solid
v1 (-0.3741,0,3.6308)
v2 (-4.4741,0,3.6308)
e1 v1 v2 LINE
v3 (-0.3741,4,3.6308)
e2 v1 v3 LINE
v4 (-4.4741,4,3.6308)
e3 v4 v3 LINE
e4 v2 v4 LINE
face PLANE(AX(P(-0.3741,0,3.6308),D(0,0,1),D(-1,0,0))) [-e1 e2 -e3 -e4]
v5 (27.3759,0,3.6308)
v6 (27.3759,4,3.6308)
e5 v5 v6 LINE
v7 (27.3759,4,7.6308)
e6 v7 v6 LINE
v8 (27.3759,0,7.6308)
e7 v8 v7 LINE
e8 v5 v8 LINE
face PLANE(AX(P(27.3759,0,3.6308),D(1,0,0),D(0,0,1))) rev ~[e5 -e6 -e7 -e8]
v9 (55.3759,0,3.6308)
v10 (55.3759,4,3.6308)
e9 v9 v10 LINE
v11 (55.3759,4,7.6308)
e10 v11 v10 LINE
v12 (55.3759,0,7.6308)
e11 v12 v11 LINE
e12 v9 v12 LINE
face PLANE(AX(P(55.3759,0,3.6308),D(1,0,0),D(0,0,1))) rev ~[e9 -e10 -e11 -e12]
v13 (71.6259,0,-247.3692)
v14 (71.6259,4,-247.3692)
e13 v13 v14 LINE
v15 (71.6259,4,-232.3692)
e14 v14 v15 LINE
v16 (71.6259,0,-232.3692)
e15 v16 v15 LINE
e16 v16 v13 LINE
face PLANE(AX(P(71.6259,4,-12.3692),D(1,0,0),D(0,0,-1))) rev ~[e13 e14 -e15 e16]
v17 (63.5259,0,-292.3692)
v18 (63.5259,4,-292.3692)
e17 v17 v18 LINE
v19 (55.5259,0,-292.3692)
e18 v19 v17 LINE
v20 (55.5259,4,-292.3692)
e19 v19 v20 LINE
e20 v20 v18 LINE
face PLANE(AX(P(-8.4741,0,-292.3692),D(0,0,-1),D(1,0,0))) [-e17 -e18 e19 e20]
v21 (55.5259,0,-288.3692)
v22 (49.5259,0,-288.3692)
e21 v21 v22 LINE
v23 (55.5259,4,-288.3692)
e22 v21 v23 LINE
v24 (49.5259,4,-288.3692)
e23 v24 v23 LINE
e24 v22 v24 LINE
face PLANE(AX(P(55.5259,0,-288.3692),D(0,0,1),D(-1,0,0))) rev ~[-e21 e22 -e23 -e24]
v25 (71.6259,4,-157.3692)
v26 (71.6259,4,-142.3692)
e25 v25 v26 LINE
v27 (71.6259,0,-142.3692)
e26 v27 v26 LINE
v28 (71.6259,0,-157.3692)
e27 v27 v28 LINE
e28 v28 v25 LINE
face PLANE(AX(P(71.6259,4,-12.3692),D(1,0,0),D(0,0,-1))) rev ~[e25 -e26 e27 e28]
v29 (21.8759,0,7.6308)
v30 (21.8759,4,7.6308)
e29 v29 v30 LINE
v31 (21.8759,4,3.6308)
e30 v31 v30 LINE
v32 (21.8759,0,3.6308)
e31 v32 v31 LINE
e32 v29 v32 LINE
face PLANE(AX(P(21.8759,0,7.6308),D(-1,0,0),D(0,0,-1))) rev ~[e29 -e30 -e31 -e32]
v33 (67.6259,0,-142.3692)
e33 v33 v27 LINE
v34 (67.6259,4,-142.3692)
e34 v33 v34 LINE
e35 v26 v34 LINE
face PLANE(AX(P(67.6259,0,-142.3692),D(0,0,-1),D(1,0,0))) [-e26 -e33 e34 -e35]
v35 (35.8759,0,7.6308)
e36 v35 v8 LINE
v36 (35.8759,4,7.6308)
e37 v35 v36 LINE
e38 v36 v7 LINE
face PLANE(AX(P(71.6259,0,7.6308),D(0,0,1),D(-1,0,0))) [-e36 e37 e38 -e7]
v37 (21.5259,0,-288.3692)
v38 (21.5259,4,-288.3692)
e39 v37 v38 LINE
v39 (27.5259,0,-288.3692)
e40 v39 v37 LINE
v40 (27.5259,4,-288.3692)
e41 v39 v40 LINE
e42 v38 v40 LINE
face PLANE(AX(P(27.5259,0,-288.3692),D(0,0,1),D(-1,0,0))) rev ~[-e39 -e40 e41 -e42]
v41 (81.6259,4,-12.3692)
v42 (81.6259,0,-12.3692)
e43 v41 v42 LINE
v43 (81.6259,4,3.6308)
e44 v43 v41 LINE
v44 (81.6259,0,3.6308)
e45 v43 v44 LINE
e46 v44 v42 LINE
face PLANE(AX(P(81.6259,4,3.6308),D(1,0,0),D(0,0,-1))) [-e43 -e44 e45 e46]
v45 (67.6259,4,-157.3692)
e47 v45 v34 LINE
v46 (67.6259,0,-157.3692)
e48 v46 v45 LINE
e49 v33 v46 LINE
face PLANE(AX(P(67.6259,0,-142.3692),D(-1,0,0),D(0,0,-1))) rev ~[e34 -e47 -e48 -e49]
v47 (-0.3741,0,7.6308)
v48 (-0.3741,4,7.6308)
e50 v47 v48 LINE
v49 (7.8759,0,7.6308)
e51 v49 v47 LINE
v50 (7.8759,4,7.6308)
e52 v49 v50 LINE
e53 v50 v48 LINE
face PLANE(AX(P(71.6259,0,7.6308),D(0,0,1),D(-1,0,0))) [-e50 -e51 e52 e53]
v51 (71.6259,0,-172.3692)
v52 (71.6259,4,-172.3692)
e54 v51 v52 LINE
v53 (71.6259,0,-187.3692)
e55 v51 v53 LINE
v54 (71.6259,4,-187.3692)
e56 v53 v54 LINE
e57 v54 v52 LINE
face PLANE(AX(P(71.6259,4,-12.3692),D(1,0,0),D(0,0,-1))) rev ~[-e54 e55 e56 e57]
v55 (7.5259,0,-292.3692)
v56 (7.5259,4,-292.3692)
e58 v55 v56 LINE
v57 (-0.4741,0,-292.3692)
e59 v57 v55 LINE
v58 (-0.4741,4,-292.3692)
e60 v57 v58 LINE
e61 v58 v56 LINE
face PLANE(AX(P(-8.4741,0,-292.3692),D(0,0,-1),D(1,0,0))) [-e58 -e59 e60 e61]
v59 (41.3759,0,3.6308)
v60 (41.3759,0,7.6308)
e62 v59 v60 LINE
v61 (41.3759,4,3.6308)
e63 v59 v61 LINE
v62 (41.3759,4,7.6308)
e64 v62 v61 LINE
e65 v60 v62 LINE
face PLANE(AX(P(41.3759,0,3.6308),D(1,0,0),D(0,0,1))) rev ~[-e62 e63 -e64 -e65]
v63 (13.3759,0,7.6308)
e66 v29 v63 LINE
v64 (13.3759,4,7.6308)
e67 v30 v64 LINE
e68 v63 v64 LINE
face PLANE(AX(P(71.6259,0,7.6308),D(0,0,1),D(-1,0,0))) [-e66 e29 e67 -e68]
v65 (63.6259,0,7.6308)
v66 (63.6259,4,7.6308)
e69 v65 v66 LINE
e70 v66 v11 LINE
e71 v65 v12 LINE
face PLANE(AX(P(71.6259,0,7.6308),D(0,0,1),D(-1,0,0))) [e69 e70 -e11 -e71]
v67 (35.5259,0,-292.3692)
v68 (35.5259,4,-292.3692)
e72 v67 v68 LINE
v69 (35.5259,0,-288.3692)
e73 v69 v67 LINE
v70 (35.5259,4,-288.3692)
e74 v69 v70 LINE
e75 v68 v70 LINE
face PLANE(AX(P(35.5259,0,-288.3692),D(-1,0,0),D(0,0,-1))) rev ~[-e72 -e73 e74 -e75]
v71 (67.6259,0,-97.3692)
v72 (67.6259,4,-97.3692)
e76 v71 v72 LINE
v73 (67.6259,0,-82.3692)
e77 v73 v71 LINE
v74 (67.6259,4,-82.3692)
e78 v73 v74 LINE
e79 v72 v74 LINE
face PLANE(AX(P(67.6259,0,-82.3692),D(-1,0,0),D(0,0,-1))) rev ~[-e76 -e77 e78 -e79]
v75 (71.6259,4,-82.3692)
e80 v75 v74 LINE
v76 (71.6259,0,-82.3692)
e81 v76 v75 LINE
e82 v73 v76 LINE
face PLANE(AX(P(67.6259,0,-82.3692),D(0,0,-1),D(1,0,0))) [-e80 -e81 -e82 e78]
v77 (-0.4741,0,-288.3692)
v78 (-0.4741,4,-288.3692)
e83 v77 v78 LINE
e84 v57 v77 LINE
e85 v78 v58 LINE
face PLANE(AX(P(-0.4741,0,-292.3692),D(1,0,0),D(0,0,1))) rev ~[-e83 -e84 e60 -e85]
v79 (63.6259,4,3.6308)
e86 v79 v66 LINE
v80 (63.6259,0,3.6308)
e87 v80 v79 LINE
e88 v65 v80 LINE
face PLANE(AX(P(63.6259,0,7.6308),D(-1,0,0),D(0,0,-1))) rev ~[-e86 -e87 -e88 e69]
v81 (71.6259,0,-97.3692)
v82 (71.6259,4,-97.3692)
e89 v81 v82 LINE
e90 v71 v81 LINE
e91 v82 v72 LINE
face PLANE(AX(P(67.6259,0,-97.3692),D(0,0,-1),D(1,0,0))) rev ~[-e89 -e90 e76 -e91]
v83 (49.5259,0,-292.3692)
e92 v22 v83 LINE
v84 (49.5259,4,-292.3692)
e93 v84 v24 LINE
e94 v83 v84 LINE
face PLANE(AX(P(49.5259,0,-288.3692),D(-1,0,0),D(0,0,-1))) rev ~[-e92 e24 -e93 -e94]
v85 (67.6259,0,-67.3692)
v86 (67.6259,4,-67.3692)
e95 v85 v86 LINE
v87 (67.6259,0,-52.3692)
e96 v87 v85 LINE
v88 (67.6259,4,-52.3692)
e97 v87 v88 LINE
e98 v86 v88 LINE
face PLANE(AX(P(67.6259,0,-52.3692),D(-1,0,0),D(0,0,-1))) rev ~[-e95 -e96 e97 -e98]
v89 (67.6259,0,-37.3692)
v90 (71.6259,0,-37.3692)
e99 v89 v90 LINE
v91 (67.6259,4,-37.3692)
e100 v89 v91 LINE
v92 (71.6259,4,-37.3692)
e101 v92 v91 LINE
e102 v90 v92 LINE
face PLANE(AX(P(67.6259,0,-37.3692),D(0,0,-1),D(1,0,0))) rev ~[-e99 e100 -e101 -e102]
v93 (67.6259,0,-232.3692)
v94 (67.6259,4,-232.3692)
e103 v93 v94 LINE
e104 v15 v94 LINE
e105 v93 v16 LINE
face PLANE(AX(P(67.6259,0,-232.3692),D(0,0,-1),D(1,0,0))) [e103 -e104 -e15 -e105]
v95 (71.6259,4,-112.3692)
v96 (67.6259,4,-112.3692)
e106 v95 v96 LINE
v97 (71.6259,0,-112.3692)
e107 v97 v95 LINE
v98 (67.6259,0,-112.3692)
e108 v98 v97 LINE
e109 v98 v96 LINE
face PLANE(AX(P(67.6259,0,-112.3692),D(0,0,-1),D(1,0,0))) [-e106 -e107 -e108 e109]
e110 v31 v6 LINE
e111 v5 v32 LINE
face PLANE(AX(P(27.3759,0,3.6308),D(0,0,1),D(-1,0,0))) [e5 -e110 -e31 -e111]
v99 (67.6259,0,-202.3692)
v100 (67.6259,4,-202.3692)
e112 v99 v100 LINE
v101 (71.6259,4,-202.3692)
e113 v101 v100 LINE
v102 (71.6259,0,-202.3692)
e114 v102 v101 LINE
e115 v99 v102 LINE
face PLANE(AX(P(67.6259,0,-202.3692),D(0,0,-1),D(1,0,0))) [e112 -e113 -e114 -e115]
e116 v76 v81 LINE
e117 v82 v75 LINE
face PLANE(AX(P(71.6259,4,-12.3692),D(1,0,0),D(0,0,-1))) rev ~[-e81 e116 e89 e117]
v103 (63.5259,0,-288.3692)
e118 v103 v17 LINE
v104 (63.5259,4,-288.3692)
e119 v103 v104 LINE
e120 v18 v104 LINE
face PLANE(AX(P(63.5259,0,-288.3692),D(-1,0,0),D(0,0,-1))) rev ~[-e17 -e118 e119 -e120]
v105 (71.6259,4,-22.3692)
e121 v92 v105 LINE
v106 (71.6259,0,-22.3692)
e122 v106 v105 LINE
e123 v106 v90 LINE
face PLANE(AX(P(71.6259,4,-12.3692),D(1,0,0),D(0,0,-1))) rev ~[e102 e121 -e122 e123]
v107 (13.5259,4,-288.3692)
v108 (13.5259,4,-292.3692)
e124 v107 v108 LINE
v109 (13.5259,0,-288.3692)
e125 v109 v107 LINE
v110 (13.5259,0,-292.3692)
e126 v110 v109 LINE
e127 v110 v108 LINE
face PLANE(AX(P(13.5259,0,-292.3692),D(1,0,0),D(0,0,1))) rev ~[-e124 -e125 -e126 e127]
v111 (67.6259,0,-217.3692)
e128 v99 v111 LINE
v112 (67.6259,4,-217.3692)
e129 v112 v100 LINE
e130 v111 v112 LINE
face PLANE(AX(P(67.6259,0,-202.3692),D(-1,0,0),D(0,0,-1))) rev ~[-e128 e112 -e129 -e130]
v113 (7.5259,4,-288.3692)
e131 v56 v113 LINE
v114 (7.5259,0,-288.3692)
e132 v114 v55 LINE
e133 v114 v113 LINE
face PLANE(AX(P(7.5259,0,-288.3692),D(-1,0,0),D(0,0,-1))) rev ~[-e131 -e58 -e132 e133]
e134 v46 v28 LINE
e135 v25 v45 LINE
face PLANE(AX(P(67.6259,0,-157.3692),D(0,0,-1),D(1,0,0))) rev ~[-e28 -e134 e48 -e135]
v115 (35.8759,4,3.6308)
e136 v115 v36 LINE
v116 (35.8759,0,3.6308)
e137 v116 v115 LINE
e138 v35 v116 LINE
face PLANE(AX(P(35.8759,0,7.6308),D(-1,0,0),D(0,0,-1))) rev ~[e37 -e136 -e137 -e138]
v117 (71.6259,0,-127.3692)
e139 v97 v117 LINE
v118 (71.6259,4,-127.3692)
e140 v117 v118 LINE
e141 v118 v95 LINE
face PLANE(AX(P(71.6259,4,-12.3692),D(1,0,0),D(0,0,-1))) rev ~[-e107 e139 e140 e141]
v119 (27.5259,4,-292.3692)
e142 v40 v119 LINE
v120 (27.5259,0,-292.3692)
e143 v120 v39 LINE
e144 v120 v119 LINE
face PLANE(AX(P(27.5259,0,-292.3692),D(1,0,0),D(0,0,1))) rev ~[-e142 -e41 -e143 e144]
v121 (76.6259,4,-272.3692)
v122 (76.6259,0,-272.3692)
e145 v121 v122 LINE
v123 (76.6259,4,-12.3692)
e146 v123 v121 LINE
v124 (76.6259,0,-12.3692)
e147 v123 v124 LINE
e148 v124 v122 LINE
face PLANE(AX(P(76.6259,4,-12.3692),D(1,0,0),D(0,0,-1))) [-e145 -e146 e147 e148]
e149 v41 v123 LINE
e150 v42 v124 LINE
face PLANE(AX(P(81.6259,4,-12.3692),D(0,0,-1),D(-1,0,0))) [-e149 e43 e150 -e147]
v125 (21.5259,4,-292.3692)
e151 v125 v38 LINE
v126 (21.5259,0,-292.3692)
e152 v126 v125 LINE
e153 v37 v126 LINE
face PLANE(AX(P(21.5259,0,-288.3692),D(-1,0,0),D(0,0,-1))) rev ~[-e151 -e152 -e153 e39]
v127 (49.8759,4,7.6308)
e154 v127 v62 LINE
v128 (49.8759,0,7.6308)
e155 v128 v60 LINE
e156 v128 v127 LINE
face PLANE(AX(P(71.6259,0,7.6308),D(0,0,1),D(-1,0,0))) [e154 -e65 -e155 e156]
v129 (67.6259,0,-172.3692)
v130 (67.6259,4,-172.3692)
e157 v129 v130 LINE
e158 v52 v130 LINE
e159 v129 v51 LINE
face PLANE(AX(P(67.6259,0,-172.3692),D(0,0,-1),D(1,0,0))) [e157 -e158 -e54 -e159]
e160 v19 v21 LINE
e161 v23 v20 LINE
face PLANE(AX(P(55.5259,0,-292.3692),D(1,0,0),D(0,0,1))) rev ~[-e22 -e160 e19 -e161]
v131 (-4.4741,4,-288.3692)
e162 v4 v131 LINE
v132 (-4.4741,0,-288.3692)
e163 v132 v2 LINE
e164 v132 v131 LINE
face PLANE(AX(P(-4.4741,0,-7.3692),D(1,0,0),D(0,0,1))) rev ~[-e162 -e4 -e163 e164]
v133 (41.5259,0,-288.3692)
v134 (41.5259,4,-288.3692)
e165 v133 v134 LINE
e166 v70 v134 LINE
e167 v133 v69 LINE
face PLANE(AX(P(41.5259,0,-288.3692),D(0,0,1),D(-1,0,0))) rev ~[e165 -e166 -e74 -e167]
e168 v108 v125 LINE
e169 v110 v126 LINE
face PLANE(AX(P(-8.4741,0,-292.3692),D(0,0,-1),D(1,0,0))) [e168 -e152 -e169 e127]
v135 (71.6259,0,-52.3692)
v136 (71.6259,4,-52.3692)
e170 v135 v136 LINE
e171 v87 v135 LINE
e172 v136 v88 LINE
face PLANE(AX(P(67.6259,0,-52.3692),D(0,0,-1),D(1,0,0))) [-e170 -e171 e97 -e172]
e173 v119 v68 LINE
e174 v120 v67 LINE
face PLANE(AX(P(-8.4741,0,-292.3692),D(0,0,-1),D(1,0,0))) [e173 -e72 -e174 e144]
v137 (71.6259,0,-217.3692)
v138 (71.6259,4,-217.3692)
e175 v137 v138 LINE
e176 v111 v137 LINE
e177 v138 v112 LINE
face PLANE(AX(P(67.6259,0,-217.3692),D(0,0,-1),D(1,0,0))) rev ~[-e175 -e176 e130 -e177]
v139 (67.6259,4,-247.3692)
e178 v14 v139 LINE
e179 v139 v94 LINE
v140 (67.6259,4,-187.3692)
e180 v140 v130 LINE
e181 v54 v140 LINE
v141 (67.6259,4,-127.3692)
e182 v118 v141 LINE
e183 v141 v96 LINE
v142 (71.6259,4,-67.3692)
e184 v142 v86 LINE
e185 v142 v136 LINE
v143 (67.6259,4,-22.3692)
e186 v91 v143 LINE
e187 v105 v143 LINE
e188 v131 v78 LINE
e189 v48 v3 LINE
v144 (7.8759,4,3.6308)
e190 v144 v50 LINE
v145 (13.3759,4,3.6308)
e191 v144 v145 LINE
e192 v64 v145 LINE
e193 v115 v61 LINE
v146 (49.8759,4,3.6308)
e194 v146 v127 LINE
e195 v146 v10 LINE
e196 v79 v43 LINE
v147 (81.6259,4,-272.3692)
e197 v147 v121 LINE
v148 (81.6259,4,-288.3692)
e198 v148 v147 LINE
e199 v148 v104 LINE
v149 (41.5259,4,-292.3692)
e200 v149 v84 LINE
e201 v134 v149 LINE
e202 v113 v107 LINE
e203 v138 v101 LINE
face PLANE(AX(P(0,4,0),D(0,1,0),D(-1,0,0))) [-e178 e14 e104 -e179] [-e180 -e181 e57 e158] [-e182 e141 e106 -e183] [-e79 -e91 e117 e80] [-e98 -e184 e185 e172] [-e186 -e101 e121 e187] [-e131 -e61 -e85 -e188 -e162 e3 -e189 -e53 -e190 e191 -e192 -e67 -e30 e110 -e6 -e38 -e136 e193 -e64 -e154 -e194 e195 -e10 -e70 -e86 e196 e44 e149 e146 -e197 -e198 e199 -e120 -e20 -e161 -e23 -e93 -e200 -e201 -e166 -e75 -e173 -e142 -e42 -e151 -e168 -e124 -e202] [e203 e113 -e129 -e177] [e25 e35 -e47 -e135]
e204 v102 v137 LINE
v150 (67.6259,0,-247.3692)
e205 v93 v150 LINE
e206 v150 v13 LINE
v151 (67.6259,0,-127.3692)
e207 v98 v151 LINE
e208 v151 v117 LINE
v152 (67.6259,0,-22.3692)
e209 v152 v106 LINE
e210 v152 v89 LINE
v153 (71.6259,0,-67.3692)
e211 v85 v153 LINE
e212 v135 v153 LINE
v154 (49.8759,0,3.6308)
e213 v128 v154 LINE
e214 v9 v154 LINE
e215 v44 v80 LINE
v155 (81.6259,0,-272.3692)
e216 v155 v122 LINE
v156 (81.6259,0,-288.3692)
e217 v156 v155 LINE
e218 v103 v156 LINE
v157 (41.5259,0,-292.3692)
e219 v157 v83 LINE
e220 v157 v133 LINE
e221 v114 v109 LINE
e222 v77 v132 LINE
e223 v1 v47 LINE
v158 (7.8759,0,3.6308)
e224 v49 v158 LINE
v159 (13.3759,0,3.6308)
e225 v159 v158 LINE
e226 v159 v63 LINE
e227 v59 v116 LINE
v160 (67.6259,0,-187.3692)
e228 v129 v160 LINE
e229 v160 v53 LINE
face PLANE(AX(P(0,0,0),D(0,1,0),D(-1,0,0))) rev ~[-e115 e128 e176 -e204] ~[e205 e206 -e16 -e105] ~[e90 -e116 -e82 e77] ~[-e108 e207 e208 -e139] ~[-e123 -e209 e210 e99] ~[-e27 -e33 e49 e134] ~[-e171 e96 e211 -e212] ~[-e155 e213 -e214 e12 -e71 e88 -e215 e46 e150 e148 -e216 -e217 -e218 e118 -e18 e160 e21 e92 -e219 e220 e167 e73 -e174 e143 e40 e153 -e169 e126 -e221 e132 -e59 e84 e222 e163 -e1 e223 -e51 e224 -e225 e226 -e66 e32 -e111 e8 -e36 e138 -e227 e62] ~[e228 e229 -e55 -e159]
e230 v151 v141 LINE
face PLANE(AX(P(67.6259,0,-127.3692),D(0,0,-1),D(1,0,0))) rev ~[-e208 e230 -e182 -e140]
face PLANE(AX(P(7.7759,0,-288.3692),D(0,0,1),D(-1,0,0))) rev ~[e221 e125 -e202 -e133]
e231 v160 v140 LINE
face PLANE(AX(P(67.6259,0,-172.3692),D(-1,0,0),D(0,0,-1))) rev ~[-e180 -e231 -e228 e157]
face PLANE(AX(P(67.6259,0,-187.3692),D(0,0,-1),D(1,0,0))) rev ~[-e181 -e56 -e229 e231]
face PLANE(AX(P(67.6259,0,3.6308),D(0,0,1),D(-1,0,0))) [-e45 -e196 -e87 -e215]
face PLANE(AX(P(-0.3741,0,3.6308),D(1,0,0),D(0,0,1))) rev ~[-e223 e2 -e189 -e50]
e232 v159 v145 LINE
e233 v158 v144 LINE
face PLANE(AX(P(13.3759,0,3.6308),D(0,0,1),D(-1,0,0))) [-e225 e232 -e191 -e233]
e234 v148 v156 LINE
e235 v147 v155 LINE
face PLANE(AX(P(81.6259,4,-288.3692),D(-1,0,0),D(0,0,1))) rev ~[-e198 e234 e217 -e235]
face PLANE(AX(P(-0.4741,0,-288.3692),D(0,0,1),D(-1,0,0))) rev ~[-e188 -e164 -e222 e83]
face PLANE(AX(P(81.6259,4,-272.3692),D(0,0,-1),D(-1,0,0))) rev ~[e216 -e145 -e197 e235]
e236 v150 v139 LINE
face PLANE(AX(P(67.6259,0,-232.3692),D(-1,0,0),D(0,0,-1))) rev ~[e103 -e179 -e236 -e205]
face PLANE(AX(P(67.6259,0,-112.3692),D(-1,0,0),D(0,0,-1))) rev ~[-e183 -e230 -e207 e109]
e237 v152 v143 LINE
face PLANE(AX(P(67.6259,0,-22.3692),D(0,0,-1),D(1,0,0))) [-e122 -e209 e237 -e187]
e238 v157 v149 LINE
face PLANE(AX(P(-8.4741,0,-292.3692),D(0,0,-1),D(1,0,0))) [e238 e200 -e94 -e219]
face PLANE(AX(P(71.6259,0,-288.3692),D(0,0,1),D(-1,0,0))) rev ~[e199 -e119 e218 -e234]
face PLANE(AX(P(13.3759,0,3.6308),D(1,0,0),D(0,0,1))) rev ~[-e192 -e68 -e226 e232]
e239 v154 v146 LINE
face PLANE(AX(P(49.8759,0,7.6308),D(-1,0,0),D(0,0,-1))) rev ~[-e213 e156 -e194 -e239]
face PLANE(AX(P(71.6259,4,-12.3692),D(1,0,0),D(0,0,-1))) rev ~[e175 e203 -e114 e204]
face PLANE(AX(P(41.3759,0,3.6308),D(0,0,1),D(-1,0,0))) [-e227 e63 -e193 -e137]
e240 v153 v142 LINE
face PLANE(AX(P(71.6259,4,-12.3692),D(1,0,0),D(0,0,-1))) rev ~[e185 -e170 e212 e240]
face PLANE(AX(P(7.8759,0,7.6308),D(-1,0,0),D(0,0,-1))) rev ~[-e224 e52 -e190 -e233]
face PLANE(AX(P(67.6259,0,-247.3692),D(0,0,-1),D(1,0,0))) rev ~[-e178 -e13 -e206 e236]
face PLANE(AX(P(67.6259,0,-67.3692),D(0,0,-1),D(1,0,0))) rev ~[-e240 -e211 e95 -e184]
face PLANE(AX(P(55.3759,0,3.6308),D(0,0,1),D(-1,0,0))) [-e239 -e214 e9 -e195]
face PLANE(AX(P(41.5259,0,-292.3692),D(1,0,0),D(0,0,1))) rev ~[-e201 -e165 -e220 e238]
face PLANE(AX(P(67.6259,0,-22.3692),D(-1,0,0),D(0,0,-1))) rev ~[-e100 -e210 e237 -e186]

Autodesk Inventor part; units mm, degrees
ref_plane "YZ Plane" through (0, 0, 0) normal (1, 0, 0) x (0, 1, 0)
ref_plane "XZ Plane" through (0, 0, 0) normal (0, 1, 0) x (-1, 0, 0)
ref_plane "XY Plane" through (0, 0, 0) normal (0, 0, 1) x (1, 0, 0)
sketch "Sketch1" plane through (0, 0, 0) normal (0, 1, 0) x (-1, 0, 0)
  line L0 (-71.6259, 7.6308) -> (8.4741, 7.6308)
  line L1 (8.4741, 7.6308) -> (8.4741, -292.3692)
  line L2 (8.4741, -292.3692) -> (-71.6259, -292.3692)
  line L3 (-71.6259, -292.3692) -> (-71.6259, 7.6308)
  point P0 (0, 0)
extrude "Extrusion1" add sketch "Sketch1" along normal blind 4
sketch "Sketch2" plane through (0, 0, 0) normal (0, -1, 0) x (1, 0, 0)
  line L0 (-0.3741, 7.6308) -> (-18.4741, 7.6308) construction
  line L1 (-0.3741, 3.6308) -> (-0.3741, 7.6308) construction
  line L2 (7.6259, 7.6308) -> (7.6259, 3.6308) construction
  line L3 (13.6259, 3.6308) -> (7.6259, 3.6308) construction
  line L4 (13.6259, 3.6308) -> (13.6259, 7.6308) construction
  line L5 (21.6259, 7.6308) -> (21.6259, 3.6308) construction
  line L6 (27.6259, 3.6308) -> (21.6259, 3.6308) construction
  line L7 (27.6259, 3.6308) -> (27.6259, 7.6308) construction
  line L8 (35.6259, 7.6308) -> (35.6259, 3.6308) construction
  line L9 (41.6259, 3.6308) -> (35.6259, 3.6308) construction
  line L10 (41.6259, 3.6308) -> (41.6259, 7.6308) construction
  line L11 (49.6259, 7.6308) -> (49.6259, 3.6308) construction
  line L12 (55.6259, 3.6308) -> (49.6259, 3.6308) construction
  line L13 (55.6259, 3.6308) -> (55.6259, 7.6308) construction
  line L14 (63.6259, 7.6308) -> (63.6259, 3.6308) construction
  line L15 (71.6259, 3.6308) -> (63.6259, 3.6308) construction
  line L16 (67.6259, 3.6308) -> (67.6259, -7.3692) projected
  line L17 (67.6259, -7.3692) -> (71.6259, -7.3692) projected
  line L18 (71.6259, 3.6308) -> (71.6259, -7.3692) projected
  line L19 (67.6259, 3.6308) -> (71.6259, 3.6308) projected
  line L20 (67.6259, -22.3692) -> (67.6259, -37.3692) projected
  line L21 (67.6259, -37.3692) -> (71.6259, -37.3692) projected
  line L22 (71.6259, -22.3692) -> (71.6259, -37.3692) projected
  line L23 (67.6259, -22.3692) -> (71.6259, -22.3692) projected
  line L24 (67.6259, -52.3692) -> (67.6259, -67.3692) projected
  line L25 (67.6259, -67.3692) -> (71.6259, -67.3692) projected
  line L26 (71.6259, -52.3692) -> (71.6259, -67.3692) projected
  line L27 (67.6259, -52.3692) -> (71.6259, -52.3692) projected
  line L28 (67.6259, -82.3692) -> (67.6259, -97.3692) projected
  line L29 (67.6259, -97.3692) -> (71.6259, -97.3692) projected
  line L30 (71.6259, -82.3692) -> (71.6259, -97.3692) projected
  line L31 (67.6259, -82.3692) -> (71.6259, -82.3692) projected
  line L32 (67.6259, -112.3692) -> (67.6259, -127.3692) projected
  line L33 (67.6259, -127.3692) -> (71.6259, -127.3692) projected
  line L34 (71.6259, -112.3692) -> (71.6259, -127.3692) projected
  line L35 (67.6259, -112.3692) -> (71.6259, -112.3692) projected
  line L36 (67.6259, -142.3692) -> (67.6259, -157.3692) projected
  line L37 (67.6259, -157.3692) -> (71.6259, -157.3692) projected
  line L38 (71.6259, -142.3692) -> (71.6259, -157.3692) projected
  line L39 (67.6259, -142.3692) -> (71.6259, -142.3692) projected
  line L40 (67.6259, -172.3692) -> (67.6259, -187.3692) projected
  line L41 (67.6259, -187.3692) -> (71.6259, -187.3692) projected
  line L42 (71.6259, -172.3692) -> (71.6259, -187.3692) projected
  line L43 (67.6259, -172.3692) -> (71.6259, -172.3692) projected
  line L44 (67.6259, -202.3692) -> (67.6259, -217.3692) projected
  line L45 (67.6259, -217.3692) -> (71.6259, -217.3692) projected
  line L46 (71.6259, -202.3692) -> (71.6259, -217.3692) projected
  line L47 (67.6259, -202.3692) -> (71.6259, -202.3692) projected
  line L48 (67.6259, -232.3692) -> (67.6259, -247.3692) projected
  line L49 (67.6259, -247.3692) -> (71.6259, -247.3692) projected
  line L50 (71.6259, -232.3692) -> (71.6259, -247.3692) projected
  line L51 (67.6259, -232.3692) -> (71.6259, -232.3692) projected
  line L52 (67.6259, -262.3692) -> (67.6259, -277.3692) projected
  line L53 (67.6259, -277.3692) -> (71.6259, -277.3692) projected
  line L54 (71.6259, -262.3692) -> (71.6259, -277.3692) projected
  line L55 (67.6259, -262.3692) -> (71.6259, -262.3692) projected
  line L56 (71.6259, -288.3692) -> (63.5259, -288.3692) projected
  line L57 (63.5259, -288.3692) -> (63.5259, -292.3692) projected
  line L58 (55.5259, -292.3692) -> (55.5259, -288.3692) projected
  line L59 (55.5259, -288.3692) -> (49.5259, -288.3692) projected
  line L60 (49.5259, -288.3692) -> (49.5259, -292.3692) projected
  line L61 (41.5259, -288.3692) -> (35.5259, -288.3692) projected
  line L62 (41.5259, -292.3692) -> (41.5259, -288.3692) projected
  line L63 (35.5259, -288.3692) -> (35.5259, -292.3692) projected
  line L64 (27.5259, -288.3692) -> (21.5259, -288.3692) projected
  line L65 (27.5259, -292.3692) -> (27.5259, -288.3692) projected
  line L66 (21.5259, -288.3692) -> (21.5259, -292.3692) projected
  line L67 (13.5259, -288.3692) -> (7.5259, -288.3692) projected
  line L68 (13.5259, -292.3692) -> (13.5259, -288.3692) projected
  line L69 (7.5259, -288.3692) -> (7.5259, -292.3692) projected
  line L70 (-8.4741, -292.3692) -> (-8.4741, 7.6308) projected
  line L71 (-8.4741, -22.3692) -> (-8.4741, -37.3692) projected
  line L72 (-8.4741, -37.3692) -> (-4.4741, -37.3692) projected
  line L73 (-4.4741, -22.3692) -> (-4.4741, -37.3692) projected
  line L74 (-8.4741, -22.3692) -> (-4.4741, -22.3692) projected
  line L75 (-8.4741, -52.3692) -> (-8.4741, -67.3692) projected
  line L76 (-8.4741, -67.3692) -> (-4.4741, -67.3692) projected
  line L77 (-4.4741, -52.3692) -> (-4.4741, -67.3692) projected
  line L78 (-8.4741, -52.3692) -> (-4.4741, -52.3692) projected
  line L79 (-8.4741, -82.3692) -> (-8.4741, -97.3692) projected
  line L80 (-8.4741, -97.3692) -> (-4.4741, -97.3692) projected
  line L81 (-4.4741, -82.3692) -> (-4.4741, -97.3692) projected
  line L82 (-8.4741, -82.3692) -> (-4.4741, -82.3692) projected
  line L83 (-8.4741, -112.3692) -> (-8.4741, -127.3692) projected
  line L84 (-8.4741, -127.3692) -> (-4.4741, -127.3692) projected
  line L85 (-4.4741, -112.3692) -> (-4.4741, -127.3692) projected
  line L86 (-8.4741, -112.3692) -> (-4.4741, -112.3692) projected
  line L87 (-8.4741, -142.3692) -> (-8.4741, -157.3692) projected
  line L88 (-8.4741, -157.3692) -> (-4.4741, -157.3692) projected
  line L89 (-4.4741, -142.3692) -> (-4.4741, -157.3692) projected
  line L90 (-8.4741, -142.3692) -> (-4.4741, -142.3692) projected
  line L91 (-8.4741, -172.3692) -> (-8.4741, -187.3692) projected
  line L92 (-8.4741, -187.3692) -> (-4.4741, -187.3692) projected
  line L93 (-4.4741, -172.3692) -> (-4.4741, -187.3692) projected
  line L94 (-8.4741, -172.3692) -> (-4.4741, -172.3692) projected
  line L95 (-8.4741, -202.3692) -> (-8.4741, -217.3692) projected
  line L96 (-8.4741, -217.3692) -> (-4.4741, -217.3692) projected
  line L97 (-4.4741, -202.3692) -> (-4.4741, -217.3692) projected
  line L98 (-8.4741, -202.3692) -> (-4.4741, -202.3692) projected
  line L99 (-8.4741, -232.3692) -> (-8.4741, -247.3692) projected
  line L100 (-8.4741, -247.3692) -> (-4.4741, -247.3692) projected
  line L101 (-4.4741, -232.3692) -> (-4.4741, -247.3692) projected
  line L102 (-8.4741, -232.3692) -> (-4.4741, -232.3692) projected
  line L103 (71.6259, -37.1192) -> (67.6259, -37.1192)
  line L104 (67.6259, -22.6192) -> (71.6259, -22.6192)
  line L105 (67.6259, -52.6192) -> (71.6259, -52.6192)
  line L106 (71.6259, -67.1192) -> (67.6259, -67.1192)
  line L107 (67.6259, -82.6192) -> (71.6259, -82.6192)
  line L108 (71.6259, -97.1192) -> (67.6259, -97.1192)
  line L109 (67.6259, -112.6192) -> (71.6259, -112.6192)
  line L110 (71.6259, -127.1192) -> (67.6259, -127.1192)
  line L111 (67.6259, -142.6192) -> (71.6259, -142.6192)
  line L112 (71.6259, -157.1192) -> (67.6259, -157.1192)
  line L113 (67.6259, -172.6192) -> (71.6259, -172.6192)
  line L114 (71.6259, -187.1192) -> (67.6259, -187.1192)
  line L115 (67.6259, -202.6192) -> (71.6259, -202.6192)
  line L116 (71.6259, -217.1192) -> (67.6259, -217.1192)
  line L117 (67.6259, -232.6192) -> (71.6259, -232.6192)
  line L118 (71.6259, -247.1192) -> (67.6259, -247.1192)
  line L119 (67.6259, -262.6192) -> (71.6259, -262.6192)
  line L120 (71.6259, -277.1192) -> (67.6259, -277.1192)
  line L121 (-4.4741, -22.6192) -> (-8.4741, -22.6192)
  line L122 (-4.4741, -37.1192) -> (-8.4741, -37.1192)
  line L123 (-4.4741, -52.6192) -> (-8.4741, -52.6192)
  line L124 (-4.4741, -67.1192) -> (-8.4741, -67.1192)
  line L125 (-4.4741, -82.6192) -> (-8.4741, -82.6192)
  line L126 (-4.4741, -97.1192) -> (-8.4741, -97.1192)
  line L127 (-4.4741, -112.6192) -> (-8.4741, -112.6192)
  line L128 (-4.4741, -127.1192) -> (-8.4741, -127.1192)
  line L129 (-4.4741, -142.6192) -> (-8.4741, -142.6192)
  line L130 (-4.4741, -157.1192) -> (-8.4741, -157.1192)
  line L131 (-4.4741, -172.6192) -> (-8.4741, -172.6192)
  line L132 (-4.4741, -187.1192) -> (-8.4741, -187.1192)
  line L133 (-4.4741, -202.6192) -> (-8.4741, -202.6192)
  line L134 (-4.4741, -217.1192) -> (-8.4741, -217.1192)
  line L135 (-4.4741, -232.6192) -> (-8.4741, -232.6192)
  line L136 (-4.4741, -247.1192) -> (-8.4741, -247.1192)
  line L137 (7.8759, 7.6308) -> (7.8759, 3.6308)
  line L138 (13.3759, 3.6308) -> (13.3759, 7.6308)
  line L139 (21.8759, 7.6308) -> (21.8759, 3.6308)
  line L140 (27.3759, 3.6308) -> (27.3759, 7.6308)
  line L141 (35.8759, 7.6308) -> (35.8759, 3.6308)
  line L142 (41.3759, 3.6308) -> (41.3759, 7.6308)
  line L143 (49.8759, 7.6308) -> (49.8759, 3.6308)
  line L144 (55.3759, 3.6308) -> (55.3759, 7.6308)
  line L145 (7.7759, -292.3692) -> (7.7759, -288.3692)
  line L146 (13.2759, -288.3692) -> (13.2759, -292.3692)
  line L147 (21.7759, -292.3692) -> (21.7759, -288.3692)
  line L148 (27.2759, -288.3692) -> (27.2759, -292.3692)
  line L149 (35.7759, -292.3692) -> (35.7759, -288.3692)
  line L150 (41.2759, -288.3692) -> (41.2759, -292.3692)
  line L151 (49.7759, -292.3692) -> (49.7759, -288.3692)
  line L152 (55.2759, -288.3692) -> (55.2759, -292.3692)
  line L153 (13.6259, 3.6308) -> (7.6259, 3.6308) projected
  line L154 (27.6259, 3.6308) -> (21.6259, 3.6308) projected
  line L155 (41.6259, 3.6308) -> (35.6259, 3.6308) projected
  line L156 (55.6259, 3.6308) -> (49.6259, 3.6308) projected
  line L157 (71.6259, -292.3692) -> (-8.4741, -292.3692) projected
  line L158 (-0.3741, 3.6308) -> (-0.3741, 7.6308) projected
  line L159 (-8.4741, 7.6308) -> (71.6259, 7.6308) projected
  line L160 (71.6259, 7.6308) -> (71.6259, -292.3692) projected
  line L161 (63.6259, 7.6308) -> (63.6259, 3.6308) projected
  line L162 (71.6259, 3.6308) -> (63.6259, 3.6308) projected
  line L163 (-0.3741, 3.6308) -> (-18.4741, 3.6308) projected
  line L164 (-18.4741, 7.6308) -> (-18.4741, 3.6308) projected
  line L165 (-0.3741, 7.6308) -> (-18.4741, 7.6308) projected
  line L166 (-0.3741, 3.6308) -> (-0.3741, 7.6308) projected
  line L167 (-0.3741, 7.6308) -> (-18.4741, 7.6308) projected
  line L168 (-18.4741, 7.6308) -> (-18.4741, 3.6308) projected
  line L169 (-0.3741, 3.6308) -> (-18.4741, 3.6308) projected
  line L170 (-0.4741, -292.3692) -> (-0.4741, -288.3692) projected
  line L171 (-0.4741, -288.3692) -> (-18.4741, -288.3692) projected
  line L172 (-18.4741, -292.3692) -> (-18.4741, -288.3692) projected
  line L173 (-0.4741, -292.3692) -> (-18.4741, -292.3692) projected
  line L174 (18.1084, -192.1281) -> (2.6152, -192.1281)
  line L175 (2.6152, -192.1281) -> (2.6152, -222.247)
  line L176 (2.6152, -222.247) -> (18.1084, -222.247)
  line L177 (18.1084, -222.247) -> (18.1084, -192.1281)
  line L178 (-8.4741, -7.3692) -> (-4.4741, -7.3692)
  line L179 (-4.4741, -7.3692) -> (-4.4741, 7.6308)
  line L180 (-4.4741, 7.6308) -> (-8.4741, 7.6308)
  line L181 (-8.4741, 7.6308) -> (-8.4741, -7.3692)
  line L182 (-8.4741, -262.3692) -> (-4.4741, -262.3692)
  line L183 (-4.4741, -52.6192) -> (-4.4741, -288.3692)
  line L184 (-4.4741, -277.3692) -> (-8.4741, -277.3692)
  line L185 (-8.4741, -277.3692) -> (-8.4741, -262.3692)
  line L186 (-4.4741, -52.6192) -> (-4.4741, -7.3692)
  point P0 (0, 0)
  point P1 (-4.4741, -247.1192)
  point P2 (-4.4741, -232.6192)
  point P3 (-4.4741, -217.1192)
  point P4 (-4.4741, -202.6192)
  point P5 (-4.4741, -187.1192)
  point P6 (-4.4741, -172.6192)
  point P7 (-4.4741, -157.1192)
  point P8 (-4.4741, -142.6192)
  point P9 (-4.4741, -127.1192)
  point P10 (-4.4741, -112.6192)
  point P11 (-4.4741, -97.1192)
  point P12 (-4.4741, -82.6192)
  point P13 (-4.4741, -67.1192)
  point P14 (-4.4741, -52.6192)
  point P15 (-4.4741, 3.6308)
  point P16 (-8.4741, 3.6308)
  point P17 (-8.4741, -288.3692)
  dimension "d4" = 0.25
  dimension "d7" = 30
  dimension "d12" = 0.25
  dimension "d15" = 30
  dimension "d20" = 0.25
  dimension "d23" = 14
  dimension "d28" = 0.25
  dimension "d31" = 14
  dimension "d46" = 4
  dimension "d47" = 15
  dimension "d48" = 30
  dimension "d49" = 30
extrude "Extrusion2" cut sketch "Sketch2" against normal through all contours L19 L18 L17 L16 | L162 L161 L159 L160 L19 | L22 L104 L20 L23 | L144 L156 L143 L159 | L22 L103 L20 L104 | L22 L21 L20 L103 | L142 L155 L141 L159 | L26 L105 L24 L27 | L140 L154 L139 L159 | L26 L106 L24 L105 | L26 L25 L24 L106 | L138 L153 L137 L159 | L30 L107 L28 L31 | L158 L163 L179 L159 | L30 L108 L28 L107 | L179 L163 L70 L159 | L30 L29 L28 L108 | L179 L178 L70 L163 | L70 L163 L164 L165 | L186 L74 L70 L178 | L34 L109 L32 L35 | L73 L121 L70 L74 | L34 L110 L32 L109 | L73 L122 L70 L121 | L34 L33 L32 L110 | L73 L72 L70 L122 | L186 L78 L70 L72 | L38 L111 L36 L39 | L77 L123 L70 L78 | L38 L112 L36 L111 | L77 L124 L70 L123 | L38 L37 L36 L112 | L77 L76 L70 L124 | L183 L82 L70 L76 | L42 L113 L40 L43 | L81 L125 L70 L82 | L42 L114 L40 L113 | L81 L126 L70 L125 | L42 L41 L40 L114 | L81 L80 L70 L126 | L183 L86 L70 L80 | L46 L115 L44 L47 | L85 L127 L70 L86 | L46 L116 L44 L115 | L85 L128 L70 L127 | L46 L45 L44 L116 | L85 L84 L70 L128 | L183 L90 L70 L84 | L50 L117 L48 L51 | L89 L129 L70 L90 | L50 L118 L48 L117 | L89 L130 L70 L129 | L50 L49 L48 L118 | L89 L88 L70 L130 | L183 L94 L70 L88 | L54 L119 L52 L55 | L93 L131 L70 L94 | L54 L120 L52 L119 | L93 L132 L70 L131 | L54 L53 L52 L120 | L93 L92 L70 L132 | L183 L98 L70 L92 | L160 L157 L57 L56 | L97 L133 L70 L98 | L97 L134 L70 L133 | L97 L96 L70 L134 | L157 L152 L59 L58 | L183 L102 L70 L96 | L157 L151 L59 L152 | L101 L135 L70 L102 | L157 L60 L59 L151 | L101 L136 L70 L135 | L101 L100 L70 L136 | L157 L150 L61 L62 | L183 L182 L70 L100 | L157 L149 L61 L150 | L183 L184 L70 L182 | L157 L63 L61 L149 | L183 L171 L70 L184 | L171 L170 L157 L70 | L157 L148 L64 L65 | L70 L173 L172 L171 | L157 L147 L64 L148 | L157 L66 L64 L147 | L69 L67 L145 L157 | L145 L67 L146 L157 | L157 L146 L67 L68
sketch "Sketch4" plane through (0, 4, 0) normal (0, 1, 0) x (1, 0, 0)
  line L0 (67.6259, 7.3692) -> (67.6259, -3.6308) projected
  line L1 (67.6259, -3.6308) -> (81.6259, -3.6308)
  line L2 (81.6259, -3.6308) -> (81.6259, 12.3692)
  line L3 (81.6259, 12.3692) -> (67.6259, 12.3692)
  line L4 (67.6259, 12.3692) -> (67.6259, -3.6308)
  line L5 (81.6259, -7.6308) -> (81.6259, -3.6308)
  line L6 (55.3759, -7.6308) -> (63.6259, -7.6308) projected
  line L7 (63.5259, 288.3692) -> (71.6259, 288.3692) projected
  line L8 (66.2844, 288.3692) -> (81.6259, 288.3692)
  line L9 (81.6259, 288.3692) -> (81.6259, 272.3692)
  line L10 (81.6259, 272.3692) -> (66.2844, 272.3692)
  line L11 (66.2844, 272.3692) -> (66.2844, 288.3692)
  line L12 (63.5259, 292.3692) -> (81.6259, 292.3692)
  line L13 (67.6259, 262.3692) -> (67.6259, 277.3692) projected
  line L14 (71.6259, 262.1619) -> (67.6259, 262.1619)
  line L15 (67.6259, 262.1619) -> (67.6259, 277.3692)
  line L16 (67.6259, 277.3692) -> (71.6259, 277.3692)
  line L17 (71.6259, 277.3692) -> (71.6259, 22.3692)
  line L18 (76.6259, 12.3692) -> (76.6259, 272.3692)
  line L19 (71.6259, 277.3692) -> (71.6259, 288.3692) projected
  line L20 (-0.4741, 292.3692) -> (-0.4741, 288.3692) projected
  line L21 (-0.4741, 288.3692) -> (-4.4741, 288.3692) projected
  line L22 (-4.4741, 288.3692) -> (-4.4741, -3.6308) projected
  line L23 (-4.4741, -3.6308) -> (-0.3741, -3.6308) projected
  line L24 (-0.3741, -3.6308) -> (-0.3741, -7.6308) projected
  line L25 (-0.3741, -7.6308) -> (7.8759, -7.6308) projected
  line L26 (7.8759, -7.6308) -> (7.8759, -3.6308) projected
  line L27 (7.8759, -3.6308) -> (13.3759, -3.6308) projected
  line L28 (13.3759, -3.6308) -> (13.3759, -7.6308) projected
  line L29 (13.3759, -7.6308) -> (21.8759, -7.6308) projected
  line L30 (21.8759, -7.6308) -> (21.8759, -3.6308) projected
  line L31 (21.8759, -3.6308) -> (27.3759, -3.6308) projected
  line L32 (27.3759, -3.6308) -> (27.3759, -7.6308) projected
  line L33 (27.3759, -7.6308) -> (35.8759, -7.6308) projected
  line L34 (35.8759, -7.6308) -> (35.8759, -3.6308) projected
  line L35 (35.8759, -3.6308) -> (41.3759, -3.6308) projected
  line L36 (41.3759, -3.6308) -> (41.3759, -7.6308) projected
  line L37 (41.3759, -7.6308) -> (49.8759, -7.6308) projected
  line L38 (49.8759, -7.6308) -> (49.8759, -3.6308) projected
  line L39 (49.8759, -3.6308) -> (55.3759, -3.6308) projected
  line L40 (55.3759, -3.6308) -> (55.3759, -7.6308) projected
  line L41 (55.3759, -7.6308) -> (63.6259, -7.6308) projected
  line L42 (63.6259, -7.6308) -> (63.6259, -3.6308) projected
  line L43 (63.6259, -3.6308) -> (67.6259, -3.6308) projected
  line L44 (67.6259, -3.6308) -> (67.6259, 7.3692) projected
  line L45 (67.6259, 7.3692) -> (71.6259, 7.3692) projected
  line L46 (71.6259, 7.3692) -> (71.6259, 22.3692) projected
  line L47 (71.6259, 22.3692) -> (67.6259, 22.3692) projected
  line L48 (67.6259, 22.3692) -> (67.6259, 37.3692) projected
  line L49 (67.6259, 37.3692) -> (71.6259, 37.3692) projected
  line L50 (71.6259, 37.3692) -> (71.6259, 52.3692) projected
  line L51 (71.6259, 52.3692) -> (67.6259, 52.3692) projected
  line L52 (67.6259, 52.3692) -> (67.6259, 67.3692) projected
  line L53 (67.6259, 67.3692) -> (71.6259, 67.3692) projected
  line L54 (71.6259, 67.3692) -> (71.6259, 82.3692) projected
  line L55 (71.6259, 82.3692) -> (67.6259, 82.3692) projected
  line L56 (67.6259, 82.3692) -> (67.6259, 97.3692) projected
  line L57 (67.6259, 97.3692) -> (71.6259, 97.3692) projected
  line L58 (71.6259, 97.3692) -> (71.6259, 112.3692) projected
  line L59 (71.6259, 112.3692) -> (67.6259, 112.3692) projected
  line L60 (67.6259, 112.3692) -> (67.6259, 127.3692) projected
  line L61 (67.6259, 127.3692) -> (71.6259, 127.3692) projected
  line L62 (71.6259, 127.3692) -> (71.6259, 142.3692) projected
  line L63 (71.6259, 142.3692) -> (67.6259, 142.3692) projected
  line L64 (67.6259, 142.3692) -> (67.6259, 157.3692) projected
  line L65 (67.6259, 157.3692) -> (71.6259, 157.3692) projected
  line L66 (71.6259, 157.3692) -> (71.6259, 172.3692) projected
  line L67 (71.6259, 172.3692) -> (67.6259, 172.3692) projected
  line L68 (67.6259, 172.3692) -> (67.6259, 187.3692) projected
  line L69 (67.6259, 187.3692) -> (71.6259, 187.3692) projected
  line L70 (71.6259, 187.3692) -> (71.6259, 202.3692) projected
  line L71 (71.6259, 202.3692) -> (67.6259, 202.3692) projected
  line L72 (67.6259, 202.3692) -> (67.6259, 217.3692) projected
  line L73 (67.6259, 217.3692) -> (71.6259, 217.3692) projected
  line L74 (71.6259, 217.3692) -> (71.6259, 232.3692) projected
  line L75 (71.6259, 232.3692) -> (67.6259, 232.3692) projected
  line L76 (67.6259, 232.3692) -> (67.6259, 247.3692) projected
  line L77 (67.6259, 247.3692) -> (71.6259, 247.3692) projected
  line L78 (71.6259, 247.3692) -> (71.6259, 262.3692) projected
  line L79 (71.6259, 262.3692) -> (67.6259, 262.3692) projected
  line L80 (67.6259, 262.3692) -> (67.6259, 277.3692) projected
  line L81 (67.6259, 277.3692) -> (71.6259, 277.3692) projected
  line L82 (71.6259, 277.3692) -> (71.6259, 288.3692) projected
  line L83 (71.6259, 288.3692) -> (63.5259, 288.3692) projected
  line L84 (63.5259, 288.3692) -> (63.5259, 292.3692) projected
  line L85 (63.5259, 292.3692) -> (55.5259, 292.3692) projected
  line L86 (55.5259, 292.3692) -> (55.5259, 288.3692) projected
  line L87 (55.5259, 288.3692) -> (49.5259, 288.3692) projected
  line L88 (49.5259, 288.3692) -> (49.5259, 292.3692) projected
  line L89 (49.5259, 292.3692) -> (41.5259, 292.3692) projected
  line L90 (41.5259, 292.3692) -> (41.5259, 288.3692) projected
  line L91 (41.5259, 288.3692) -> (35.5259, 288.3692) projected
  line L92 (35.5259, 288.3692) -> (35.5259, 292.3692) projected
  line L93 (35.5259, 292.3692) -> (27.5259, 292.3692) projected
  line L94 (27.5259, 292.3692) -> (27.5259, 288.3692) projected
  line L95 (27.5259, 288.3692) -> (21.5259, 288.3692) projected
  line L96 (21.5259, 288.3692) -> (21.5259, 292.3692) projected
  line L97 (21.5259, 292.3692) -> (13.5259, 292.3692) projected
  line L98 (13.5259, 292.3692) -> (13.5259, 288.3692) projected
  line L99 (13.5259, 288.3692) -> (7.5259, 288.3692) projected
  line L100 (7.5259, 288.3692) -> (7.5259, 292.3692) projected
  line L101 (7.5259, 292.3692) -> (-0.4741, 292.3692) projected
  point P0 (0, 0)
  point P1 (71.6259, 272.3692)
  point P2 (67.6259, 272.3692)
  point P3 (71.6259, 12.3692)
  dimension "d50" = 20
  dimension "d51" = 20
  dimension "d54" = 5
extrude "Extrusion4" add sketch "Sketch4" against normal up to surface (4 mm away) contours L45 L46 L3 L2 L1 L0 | L4 L3 L46 L45 | L46 L17 L10 L18 L3 | L10 L17 L19 L8 L9 | L17 L79 L13 L10 | L10 L13 L16 L17 | L10 L11 L7 L19 L16 L13 | L17 L14 L15 L79
equation "\"d12\" = d4"
properties part number "back"
